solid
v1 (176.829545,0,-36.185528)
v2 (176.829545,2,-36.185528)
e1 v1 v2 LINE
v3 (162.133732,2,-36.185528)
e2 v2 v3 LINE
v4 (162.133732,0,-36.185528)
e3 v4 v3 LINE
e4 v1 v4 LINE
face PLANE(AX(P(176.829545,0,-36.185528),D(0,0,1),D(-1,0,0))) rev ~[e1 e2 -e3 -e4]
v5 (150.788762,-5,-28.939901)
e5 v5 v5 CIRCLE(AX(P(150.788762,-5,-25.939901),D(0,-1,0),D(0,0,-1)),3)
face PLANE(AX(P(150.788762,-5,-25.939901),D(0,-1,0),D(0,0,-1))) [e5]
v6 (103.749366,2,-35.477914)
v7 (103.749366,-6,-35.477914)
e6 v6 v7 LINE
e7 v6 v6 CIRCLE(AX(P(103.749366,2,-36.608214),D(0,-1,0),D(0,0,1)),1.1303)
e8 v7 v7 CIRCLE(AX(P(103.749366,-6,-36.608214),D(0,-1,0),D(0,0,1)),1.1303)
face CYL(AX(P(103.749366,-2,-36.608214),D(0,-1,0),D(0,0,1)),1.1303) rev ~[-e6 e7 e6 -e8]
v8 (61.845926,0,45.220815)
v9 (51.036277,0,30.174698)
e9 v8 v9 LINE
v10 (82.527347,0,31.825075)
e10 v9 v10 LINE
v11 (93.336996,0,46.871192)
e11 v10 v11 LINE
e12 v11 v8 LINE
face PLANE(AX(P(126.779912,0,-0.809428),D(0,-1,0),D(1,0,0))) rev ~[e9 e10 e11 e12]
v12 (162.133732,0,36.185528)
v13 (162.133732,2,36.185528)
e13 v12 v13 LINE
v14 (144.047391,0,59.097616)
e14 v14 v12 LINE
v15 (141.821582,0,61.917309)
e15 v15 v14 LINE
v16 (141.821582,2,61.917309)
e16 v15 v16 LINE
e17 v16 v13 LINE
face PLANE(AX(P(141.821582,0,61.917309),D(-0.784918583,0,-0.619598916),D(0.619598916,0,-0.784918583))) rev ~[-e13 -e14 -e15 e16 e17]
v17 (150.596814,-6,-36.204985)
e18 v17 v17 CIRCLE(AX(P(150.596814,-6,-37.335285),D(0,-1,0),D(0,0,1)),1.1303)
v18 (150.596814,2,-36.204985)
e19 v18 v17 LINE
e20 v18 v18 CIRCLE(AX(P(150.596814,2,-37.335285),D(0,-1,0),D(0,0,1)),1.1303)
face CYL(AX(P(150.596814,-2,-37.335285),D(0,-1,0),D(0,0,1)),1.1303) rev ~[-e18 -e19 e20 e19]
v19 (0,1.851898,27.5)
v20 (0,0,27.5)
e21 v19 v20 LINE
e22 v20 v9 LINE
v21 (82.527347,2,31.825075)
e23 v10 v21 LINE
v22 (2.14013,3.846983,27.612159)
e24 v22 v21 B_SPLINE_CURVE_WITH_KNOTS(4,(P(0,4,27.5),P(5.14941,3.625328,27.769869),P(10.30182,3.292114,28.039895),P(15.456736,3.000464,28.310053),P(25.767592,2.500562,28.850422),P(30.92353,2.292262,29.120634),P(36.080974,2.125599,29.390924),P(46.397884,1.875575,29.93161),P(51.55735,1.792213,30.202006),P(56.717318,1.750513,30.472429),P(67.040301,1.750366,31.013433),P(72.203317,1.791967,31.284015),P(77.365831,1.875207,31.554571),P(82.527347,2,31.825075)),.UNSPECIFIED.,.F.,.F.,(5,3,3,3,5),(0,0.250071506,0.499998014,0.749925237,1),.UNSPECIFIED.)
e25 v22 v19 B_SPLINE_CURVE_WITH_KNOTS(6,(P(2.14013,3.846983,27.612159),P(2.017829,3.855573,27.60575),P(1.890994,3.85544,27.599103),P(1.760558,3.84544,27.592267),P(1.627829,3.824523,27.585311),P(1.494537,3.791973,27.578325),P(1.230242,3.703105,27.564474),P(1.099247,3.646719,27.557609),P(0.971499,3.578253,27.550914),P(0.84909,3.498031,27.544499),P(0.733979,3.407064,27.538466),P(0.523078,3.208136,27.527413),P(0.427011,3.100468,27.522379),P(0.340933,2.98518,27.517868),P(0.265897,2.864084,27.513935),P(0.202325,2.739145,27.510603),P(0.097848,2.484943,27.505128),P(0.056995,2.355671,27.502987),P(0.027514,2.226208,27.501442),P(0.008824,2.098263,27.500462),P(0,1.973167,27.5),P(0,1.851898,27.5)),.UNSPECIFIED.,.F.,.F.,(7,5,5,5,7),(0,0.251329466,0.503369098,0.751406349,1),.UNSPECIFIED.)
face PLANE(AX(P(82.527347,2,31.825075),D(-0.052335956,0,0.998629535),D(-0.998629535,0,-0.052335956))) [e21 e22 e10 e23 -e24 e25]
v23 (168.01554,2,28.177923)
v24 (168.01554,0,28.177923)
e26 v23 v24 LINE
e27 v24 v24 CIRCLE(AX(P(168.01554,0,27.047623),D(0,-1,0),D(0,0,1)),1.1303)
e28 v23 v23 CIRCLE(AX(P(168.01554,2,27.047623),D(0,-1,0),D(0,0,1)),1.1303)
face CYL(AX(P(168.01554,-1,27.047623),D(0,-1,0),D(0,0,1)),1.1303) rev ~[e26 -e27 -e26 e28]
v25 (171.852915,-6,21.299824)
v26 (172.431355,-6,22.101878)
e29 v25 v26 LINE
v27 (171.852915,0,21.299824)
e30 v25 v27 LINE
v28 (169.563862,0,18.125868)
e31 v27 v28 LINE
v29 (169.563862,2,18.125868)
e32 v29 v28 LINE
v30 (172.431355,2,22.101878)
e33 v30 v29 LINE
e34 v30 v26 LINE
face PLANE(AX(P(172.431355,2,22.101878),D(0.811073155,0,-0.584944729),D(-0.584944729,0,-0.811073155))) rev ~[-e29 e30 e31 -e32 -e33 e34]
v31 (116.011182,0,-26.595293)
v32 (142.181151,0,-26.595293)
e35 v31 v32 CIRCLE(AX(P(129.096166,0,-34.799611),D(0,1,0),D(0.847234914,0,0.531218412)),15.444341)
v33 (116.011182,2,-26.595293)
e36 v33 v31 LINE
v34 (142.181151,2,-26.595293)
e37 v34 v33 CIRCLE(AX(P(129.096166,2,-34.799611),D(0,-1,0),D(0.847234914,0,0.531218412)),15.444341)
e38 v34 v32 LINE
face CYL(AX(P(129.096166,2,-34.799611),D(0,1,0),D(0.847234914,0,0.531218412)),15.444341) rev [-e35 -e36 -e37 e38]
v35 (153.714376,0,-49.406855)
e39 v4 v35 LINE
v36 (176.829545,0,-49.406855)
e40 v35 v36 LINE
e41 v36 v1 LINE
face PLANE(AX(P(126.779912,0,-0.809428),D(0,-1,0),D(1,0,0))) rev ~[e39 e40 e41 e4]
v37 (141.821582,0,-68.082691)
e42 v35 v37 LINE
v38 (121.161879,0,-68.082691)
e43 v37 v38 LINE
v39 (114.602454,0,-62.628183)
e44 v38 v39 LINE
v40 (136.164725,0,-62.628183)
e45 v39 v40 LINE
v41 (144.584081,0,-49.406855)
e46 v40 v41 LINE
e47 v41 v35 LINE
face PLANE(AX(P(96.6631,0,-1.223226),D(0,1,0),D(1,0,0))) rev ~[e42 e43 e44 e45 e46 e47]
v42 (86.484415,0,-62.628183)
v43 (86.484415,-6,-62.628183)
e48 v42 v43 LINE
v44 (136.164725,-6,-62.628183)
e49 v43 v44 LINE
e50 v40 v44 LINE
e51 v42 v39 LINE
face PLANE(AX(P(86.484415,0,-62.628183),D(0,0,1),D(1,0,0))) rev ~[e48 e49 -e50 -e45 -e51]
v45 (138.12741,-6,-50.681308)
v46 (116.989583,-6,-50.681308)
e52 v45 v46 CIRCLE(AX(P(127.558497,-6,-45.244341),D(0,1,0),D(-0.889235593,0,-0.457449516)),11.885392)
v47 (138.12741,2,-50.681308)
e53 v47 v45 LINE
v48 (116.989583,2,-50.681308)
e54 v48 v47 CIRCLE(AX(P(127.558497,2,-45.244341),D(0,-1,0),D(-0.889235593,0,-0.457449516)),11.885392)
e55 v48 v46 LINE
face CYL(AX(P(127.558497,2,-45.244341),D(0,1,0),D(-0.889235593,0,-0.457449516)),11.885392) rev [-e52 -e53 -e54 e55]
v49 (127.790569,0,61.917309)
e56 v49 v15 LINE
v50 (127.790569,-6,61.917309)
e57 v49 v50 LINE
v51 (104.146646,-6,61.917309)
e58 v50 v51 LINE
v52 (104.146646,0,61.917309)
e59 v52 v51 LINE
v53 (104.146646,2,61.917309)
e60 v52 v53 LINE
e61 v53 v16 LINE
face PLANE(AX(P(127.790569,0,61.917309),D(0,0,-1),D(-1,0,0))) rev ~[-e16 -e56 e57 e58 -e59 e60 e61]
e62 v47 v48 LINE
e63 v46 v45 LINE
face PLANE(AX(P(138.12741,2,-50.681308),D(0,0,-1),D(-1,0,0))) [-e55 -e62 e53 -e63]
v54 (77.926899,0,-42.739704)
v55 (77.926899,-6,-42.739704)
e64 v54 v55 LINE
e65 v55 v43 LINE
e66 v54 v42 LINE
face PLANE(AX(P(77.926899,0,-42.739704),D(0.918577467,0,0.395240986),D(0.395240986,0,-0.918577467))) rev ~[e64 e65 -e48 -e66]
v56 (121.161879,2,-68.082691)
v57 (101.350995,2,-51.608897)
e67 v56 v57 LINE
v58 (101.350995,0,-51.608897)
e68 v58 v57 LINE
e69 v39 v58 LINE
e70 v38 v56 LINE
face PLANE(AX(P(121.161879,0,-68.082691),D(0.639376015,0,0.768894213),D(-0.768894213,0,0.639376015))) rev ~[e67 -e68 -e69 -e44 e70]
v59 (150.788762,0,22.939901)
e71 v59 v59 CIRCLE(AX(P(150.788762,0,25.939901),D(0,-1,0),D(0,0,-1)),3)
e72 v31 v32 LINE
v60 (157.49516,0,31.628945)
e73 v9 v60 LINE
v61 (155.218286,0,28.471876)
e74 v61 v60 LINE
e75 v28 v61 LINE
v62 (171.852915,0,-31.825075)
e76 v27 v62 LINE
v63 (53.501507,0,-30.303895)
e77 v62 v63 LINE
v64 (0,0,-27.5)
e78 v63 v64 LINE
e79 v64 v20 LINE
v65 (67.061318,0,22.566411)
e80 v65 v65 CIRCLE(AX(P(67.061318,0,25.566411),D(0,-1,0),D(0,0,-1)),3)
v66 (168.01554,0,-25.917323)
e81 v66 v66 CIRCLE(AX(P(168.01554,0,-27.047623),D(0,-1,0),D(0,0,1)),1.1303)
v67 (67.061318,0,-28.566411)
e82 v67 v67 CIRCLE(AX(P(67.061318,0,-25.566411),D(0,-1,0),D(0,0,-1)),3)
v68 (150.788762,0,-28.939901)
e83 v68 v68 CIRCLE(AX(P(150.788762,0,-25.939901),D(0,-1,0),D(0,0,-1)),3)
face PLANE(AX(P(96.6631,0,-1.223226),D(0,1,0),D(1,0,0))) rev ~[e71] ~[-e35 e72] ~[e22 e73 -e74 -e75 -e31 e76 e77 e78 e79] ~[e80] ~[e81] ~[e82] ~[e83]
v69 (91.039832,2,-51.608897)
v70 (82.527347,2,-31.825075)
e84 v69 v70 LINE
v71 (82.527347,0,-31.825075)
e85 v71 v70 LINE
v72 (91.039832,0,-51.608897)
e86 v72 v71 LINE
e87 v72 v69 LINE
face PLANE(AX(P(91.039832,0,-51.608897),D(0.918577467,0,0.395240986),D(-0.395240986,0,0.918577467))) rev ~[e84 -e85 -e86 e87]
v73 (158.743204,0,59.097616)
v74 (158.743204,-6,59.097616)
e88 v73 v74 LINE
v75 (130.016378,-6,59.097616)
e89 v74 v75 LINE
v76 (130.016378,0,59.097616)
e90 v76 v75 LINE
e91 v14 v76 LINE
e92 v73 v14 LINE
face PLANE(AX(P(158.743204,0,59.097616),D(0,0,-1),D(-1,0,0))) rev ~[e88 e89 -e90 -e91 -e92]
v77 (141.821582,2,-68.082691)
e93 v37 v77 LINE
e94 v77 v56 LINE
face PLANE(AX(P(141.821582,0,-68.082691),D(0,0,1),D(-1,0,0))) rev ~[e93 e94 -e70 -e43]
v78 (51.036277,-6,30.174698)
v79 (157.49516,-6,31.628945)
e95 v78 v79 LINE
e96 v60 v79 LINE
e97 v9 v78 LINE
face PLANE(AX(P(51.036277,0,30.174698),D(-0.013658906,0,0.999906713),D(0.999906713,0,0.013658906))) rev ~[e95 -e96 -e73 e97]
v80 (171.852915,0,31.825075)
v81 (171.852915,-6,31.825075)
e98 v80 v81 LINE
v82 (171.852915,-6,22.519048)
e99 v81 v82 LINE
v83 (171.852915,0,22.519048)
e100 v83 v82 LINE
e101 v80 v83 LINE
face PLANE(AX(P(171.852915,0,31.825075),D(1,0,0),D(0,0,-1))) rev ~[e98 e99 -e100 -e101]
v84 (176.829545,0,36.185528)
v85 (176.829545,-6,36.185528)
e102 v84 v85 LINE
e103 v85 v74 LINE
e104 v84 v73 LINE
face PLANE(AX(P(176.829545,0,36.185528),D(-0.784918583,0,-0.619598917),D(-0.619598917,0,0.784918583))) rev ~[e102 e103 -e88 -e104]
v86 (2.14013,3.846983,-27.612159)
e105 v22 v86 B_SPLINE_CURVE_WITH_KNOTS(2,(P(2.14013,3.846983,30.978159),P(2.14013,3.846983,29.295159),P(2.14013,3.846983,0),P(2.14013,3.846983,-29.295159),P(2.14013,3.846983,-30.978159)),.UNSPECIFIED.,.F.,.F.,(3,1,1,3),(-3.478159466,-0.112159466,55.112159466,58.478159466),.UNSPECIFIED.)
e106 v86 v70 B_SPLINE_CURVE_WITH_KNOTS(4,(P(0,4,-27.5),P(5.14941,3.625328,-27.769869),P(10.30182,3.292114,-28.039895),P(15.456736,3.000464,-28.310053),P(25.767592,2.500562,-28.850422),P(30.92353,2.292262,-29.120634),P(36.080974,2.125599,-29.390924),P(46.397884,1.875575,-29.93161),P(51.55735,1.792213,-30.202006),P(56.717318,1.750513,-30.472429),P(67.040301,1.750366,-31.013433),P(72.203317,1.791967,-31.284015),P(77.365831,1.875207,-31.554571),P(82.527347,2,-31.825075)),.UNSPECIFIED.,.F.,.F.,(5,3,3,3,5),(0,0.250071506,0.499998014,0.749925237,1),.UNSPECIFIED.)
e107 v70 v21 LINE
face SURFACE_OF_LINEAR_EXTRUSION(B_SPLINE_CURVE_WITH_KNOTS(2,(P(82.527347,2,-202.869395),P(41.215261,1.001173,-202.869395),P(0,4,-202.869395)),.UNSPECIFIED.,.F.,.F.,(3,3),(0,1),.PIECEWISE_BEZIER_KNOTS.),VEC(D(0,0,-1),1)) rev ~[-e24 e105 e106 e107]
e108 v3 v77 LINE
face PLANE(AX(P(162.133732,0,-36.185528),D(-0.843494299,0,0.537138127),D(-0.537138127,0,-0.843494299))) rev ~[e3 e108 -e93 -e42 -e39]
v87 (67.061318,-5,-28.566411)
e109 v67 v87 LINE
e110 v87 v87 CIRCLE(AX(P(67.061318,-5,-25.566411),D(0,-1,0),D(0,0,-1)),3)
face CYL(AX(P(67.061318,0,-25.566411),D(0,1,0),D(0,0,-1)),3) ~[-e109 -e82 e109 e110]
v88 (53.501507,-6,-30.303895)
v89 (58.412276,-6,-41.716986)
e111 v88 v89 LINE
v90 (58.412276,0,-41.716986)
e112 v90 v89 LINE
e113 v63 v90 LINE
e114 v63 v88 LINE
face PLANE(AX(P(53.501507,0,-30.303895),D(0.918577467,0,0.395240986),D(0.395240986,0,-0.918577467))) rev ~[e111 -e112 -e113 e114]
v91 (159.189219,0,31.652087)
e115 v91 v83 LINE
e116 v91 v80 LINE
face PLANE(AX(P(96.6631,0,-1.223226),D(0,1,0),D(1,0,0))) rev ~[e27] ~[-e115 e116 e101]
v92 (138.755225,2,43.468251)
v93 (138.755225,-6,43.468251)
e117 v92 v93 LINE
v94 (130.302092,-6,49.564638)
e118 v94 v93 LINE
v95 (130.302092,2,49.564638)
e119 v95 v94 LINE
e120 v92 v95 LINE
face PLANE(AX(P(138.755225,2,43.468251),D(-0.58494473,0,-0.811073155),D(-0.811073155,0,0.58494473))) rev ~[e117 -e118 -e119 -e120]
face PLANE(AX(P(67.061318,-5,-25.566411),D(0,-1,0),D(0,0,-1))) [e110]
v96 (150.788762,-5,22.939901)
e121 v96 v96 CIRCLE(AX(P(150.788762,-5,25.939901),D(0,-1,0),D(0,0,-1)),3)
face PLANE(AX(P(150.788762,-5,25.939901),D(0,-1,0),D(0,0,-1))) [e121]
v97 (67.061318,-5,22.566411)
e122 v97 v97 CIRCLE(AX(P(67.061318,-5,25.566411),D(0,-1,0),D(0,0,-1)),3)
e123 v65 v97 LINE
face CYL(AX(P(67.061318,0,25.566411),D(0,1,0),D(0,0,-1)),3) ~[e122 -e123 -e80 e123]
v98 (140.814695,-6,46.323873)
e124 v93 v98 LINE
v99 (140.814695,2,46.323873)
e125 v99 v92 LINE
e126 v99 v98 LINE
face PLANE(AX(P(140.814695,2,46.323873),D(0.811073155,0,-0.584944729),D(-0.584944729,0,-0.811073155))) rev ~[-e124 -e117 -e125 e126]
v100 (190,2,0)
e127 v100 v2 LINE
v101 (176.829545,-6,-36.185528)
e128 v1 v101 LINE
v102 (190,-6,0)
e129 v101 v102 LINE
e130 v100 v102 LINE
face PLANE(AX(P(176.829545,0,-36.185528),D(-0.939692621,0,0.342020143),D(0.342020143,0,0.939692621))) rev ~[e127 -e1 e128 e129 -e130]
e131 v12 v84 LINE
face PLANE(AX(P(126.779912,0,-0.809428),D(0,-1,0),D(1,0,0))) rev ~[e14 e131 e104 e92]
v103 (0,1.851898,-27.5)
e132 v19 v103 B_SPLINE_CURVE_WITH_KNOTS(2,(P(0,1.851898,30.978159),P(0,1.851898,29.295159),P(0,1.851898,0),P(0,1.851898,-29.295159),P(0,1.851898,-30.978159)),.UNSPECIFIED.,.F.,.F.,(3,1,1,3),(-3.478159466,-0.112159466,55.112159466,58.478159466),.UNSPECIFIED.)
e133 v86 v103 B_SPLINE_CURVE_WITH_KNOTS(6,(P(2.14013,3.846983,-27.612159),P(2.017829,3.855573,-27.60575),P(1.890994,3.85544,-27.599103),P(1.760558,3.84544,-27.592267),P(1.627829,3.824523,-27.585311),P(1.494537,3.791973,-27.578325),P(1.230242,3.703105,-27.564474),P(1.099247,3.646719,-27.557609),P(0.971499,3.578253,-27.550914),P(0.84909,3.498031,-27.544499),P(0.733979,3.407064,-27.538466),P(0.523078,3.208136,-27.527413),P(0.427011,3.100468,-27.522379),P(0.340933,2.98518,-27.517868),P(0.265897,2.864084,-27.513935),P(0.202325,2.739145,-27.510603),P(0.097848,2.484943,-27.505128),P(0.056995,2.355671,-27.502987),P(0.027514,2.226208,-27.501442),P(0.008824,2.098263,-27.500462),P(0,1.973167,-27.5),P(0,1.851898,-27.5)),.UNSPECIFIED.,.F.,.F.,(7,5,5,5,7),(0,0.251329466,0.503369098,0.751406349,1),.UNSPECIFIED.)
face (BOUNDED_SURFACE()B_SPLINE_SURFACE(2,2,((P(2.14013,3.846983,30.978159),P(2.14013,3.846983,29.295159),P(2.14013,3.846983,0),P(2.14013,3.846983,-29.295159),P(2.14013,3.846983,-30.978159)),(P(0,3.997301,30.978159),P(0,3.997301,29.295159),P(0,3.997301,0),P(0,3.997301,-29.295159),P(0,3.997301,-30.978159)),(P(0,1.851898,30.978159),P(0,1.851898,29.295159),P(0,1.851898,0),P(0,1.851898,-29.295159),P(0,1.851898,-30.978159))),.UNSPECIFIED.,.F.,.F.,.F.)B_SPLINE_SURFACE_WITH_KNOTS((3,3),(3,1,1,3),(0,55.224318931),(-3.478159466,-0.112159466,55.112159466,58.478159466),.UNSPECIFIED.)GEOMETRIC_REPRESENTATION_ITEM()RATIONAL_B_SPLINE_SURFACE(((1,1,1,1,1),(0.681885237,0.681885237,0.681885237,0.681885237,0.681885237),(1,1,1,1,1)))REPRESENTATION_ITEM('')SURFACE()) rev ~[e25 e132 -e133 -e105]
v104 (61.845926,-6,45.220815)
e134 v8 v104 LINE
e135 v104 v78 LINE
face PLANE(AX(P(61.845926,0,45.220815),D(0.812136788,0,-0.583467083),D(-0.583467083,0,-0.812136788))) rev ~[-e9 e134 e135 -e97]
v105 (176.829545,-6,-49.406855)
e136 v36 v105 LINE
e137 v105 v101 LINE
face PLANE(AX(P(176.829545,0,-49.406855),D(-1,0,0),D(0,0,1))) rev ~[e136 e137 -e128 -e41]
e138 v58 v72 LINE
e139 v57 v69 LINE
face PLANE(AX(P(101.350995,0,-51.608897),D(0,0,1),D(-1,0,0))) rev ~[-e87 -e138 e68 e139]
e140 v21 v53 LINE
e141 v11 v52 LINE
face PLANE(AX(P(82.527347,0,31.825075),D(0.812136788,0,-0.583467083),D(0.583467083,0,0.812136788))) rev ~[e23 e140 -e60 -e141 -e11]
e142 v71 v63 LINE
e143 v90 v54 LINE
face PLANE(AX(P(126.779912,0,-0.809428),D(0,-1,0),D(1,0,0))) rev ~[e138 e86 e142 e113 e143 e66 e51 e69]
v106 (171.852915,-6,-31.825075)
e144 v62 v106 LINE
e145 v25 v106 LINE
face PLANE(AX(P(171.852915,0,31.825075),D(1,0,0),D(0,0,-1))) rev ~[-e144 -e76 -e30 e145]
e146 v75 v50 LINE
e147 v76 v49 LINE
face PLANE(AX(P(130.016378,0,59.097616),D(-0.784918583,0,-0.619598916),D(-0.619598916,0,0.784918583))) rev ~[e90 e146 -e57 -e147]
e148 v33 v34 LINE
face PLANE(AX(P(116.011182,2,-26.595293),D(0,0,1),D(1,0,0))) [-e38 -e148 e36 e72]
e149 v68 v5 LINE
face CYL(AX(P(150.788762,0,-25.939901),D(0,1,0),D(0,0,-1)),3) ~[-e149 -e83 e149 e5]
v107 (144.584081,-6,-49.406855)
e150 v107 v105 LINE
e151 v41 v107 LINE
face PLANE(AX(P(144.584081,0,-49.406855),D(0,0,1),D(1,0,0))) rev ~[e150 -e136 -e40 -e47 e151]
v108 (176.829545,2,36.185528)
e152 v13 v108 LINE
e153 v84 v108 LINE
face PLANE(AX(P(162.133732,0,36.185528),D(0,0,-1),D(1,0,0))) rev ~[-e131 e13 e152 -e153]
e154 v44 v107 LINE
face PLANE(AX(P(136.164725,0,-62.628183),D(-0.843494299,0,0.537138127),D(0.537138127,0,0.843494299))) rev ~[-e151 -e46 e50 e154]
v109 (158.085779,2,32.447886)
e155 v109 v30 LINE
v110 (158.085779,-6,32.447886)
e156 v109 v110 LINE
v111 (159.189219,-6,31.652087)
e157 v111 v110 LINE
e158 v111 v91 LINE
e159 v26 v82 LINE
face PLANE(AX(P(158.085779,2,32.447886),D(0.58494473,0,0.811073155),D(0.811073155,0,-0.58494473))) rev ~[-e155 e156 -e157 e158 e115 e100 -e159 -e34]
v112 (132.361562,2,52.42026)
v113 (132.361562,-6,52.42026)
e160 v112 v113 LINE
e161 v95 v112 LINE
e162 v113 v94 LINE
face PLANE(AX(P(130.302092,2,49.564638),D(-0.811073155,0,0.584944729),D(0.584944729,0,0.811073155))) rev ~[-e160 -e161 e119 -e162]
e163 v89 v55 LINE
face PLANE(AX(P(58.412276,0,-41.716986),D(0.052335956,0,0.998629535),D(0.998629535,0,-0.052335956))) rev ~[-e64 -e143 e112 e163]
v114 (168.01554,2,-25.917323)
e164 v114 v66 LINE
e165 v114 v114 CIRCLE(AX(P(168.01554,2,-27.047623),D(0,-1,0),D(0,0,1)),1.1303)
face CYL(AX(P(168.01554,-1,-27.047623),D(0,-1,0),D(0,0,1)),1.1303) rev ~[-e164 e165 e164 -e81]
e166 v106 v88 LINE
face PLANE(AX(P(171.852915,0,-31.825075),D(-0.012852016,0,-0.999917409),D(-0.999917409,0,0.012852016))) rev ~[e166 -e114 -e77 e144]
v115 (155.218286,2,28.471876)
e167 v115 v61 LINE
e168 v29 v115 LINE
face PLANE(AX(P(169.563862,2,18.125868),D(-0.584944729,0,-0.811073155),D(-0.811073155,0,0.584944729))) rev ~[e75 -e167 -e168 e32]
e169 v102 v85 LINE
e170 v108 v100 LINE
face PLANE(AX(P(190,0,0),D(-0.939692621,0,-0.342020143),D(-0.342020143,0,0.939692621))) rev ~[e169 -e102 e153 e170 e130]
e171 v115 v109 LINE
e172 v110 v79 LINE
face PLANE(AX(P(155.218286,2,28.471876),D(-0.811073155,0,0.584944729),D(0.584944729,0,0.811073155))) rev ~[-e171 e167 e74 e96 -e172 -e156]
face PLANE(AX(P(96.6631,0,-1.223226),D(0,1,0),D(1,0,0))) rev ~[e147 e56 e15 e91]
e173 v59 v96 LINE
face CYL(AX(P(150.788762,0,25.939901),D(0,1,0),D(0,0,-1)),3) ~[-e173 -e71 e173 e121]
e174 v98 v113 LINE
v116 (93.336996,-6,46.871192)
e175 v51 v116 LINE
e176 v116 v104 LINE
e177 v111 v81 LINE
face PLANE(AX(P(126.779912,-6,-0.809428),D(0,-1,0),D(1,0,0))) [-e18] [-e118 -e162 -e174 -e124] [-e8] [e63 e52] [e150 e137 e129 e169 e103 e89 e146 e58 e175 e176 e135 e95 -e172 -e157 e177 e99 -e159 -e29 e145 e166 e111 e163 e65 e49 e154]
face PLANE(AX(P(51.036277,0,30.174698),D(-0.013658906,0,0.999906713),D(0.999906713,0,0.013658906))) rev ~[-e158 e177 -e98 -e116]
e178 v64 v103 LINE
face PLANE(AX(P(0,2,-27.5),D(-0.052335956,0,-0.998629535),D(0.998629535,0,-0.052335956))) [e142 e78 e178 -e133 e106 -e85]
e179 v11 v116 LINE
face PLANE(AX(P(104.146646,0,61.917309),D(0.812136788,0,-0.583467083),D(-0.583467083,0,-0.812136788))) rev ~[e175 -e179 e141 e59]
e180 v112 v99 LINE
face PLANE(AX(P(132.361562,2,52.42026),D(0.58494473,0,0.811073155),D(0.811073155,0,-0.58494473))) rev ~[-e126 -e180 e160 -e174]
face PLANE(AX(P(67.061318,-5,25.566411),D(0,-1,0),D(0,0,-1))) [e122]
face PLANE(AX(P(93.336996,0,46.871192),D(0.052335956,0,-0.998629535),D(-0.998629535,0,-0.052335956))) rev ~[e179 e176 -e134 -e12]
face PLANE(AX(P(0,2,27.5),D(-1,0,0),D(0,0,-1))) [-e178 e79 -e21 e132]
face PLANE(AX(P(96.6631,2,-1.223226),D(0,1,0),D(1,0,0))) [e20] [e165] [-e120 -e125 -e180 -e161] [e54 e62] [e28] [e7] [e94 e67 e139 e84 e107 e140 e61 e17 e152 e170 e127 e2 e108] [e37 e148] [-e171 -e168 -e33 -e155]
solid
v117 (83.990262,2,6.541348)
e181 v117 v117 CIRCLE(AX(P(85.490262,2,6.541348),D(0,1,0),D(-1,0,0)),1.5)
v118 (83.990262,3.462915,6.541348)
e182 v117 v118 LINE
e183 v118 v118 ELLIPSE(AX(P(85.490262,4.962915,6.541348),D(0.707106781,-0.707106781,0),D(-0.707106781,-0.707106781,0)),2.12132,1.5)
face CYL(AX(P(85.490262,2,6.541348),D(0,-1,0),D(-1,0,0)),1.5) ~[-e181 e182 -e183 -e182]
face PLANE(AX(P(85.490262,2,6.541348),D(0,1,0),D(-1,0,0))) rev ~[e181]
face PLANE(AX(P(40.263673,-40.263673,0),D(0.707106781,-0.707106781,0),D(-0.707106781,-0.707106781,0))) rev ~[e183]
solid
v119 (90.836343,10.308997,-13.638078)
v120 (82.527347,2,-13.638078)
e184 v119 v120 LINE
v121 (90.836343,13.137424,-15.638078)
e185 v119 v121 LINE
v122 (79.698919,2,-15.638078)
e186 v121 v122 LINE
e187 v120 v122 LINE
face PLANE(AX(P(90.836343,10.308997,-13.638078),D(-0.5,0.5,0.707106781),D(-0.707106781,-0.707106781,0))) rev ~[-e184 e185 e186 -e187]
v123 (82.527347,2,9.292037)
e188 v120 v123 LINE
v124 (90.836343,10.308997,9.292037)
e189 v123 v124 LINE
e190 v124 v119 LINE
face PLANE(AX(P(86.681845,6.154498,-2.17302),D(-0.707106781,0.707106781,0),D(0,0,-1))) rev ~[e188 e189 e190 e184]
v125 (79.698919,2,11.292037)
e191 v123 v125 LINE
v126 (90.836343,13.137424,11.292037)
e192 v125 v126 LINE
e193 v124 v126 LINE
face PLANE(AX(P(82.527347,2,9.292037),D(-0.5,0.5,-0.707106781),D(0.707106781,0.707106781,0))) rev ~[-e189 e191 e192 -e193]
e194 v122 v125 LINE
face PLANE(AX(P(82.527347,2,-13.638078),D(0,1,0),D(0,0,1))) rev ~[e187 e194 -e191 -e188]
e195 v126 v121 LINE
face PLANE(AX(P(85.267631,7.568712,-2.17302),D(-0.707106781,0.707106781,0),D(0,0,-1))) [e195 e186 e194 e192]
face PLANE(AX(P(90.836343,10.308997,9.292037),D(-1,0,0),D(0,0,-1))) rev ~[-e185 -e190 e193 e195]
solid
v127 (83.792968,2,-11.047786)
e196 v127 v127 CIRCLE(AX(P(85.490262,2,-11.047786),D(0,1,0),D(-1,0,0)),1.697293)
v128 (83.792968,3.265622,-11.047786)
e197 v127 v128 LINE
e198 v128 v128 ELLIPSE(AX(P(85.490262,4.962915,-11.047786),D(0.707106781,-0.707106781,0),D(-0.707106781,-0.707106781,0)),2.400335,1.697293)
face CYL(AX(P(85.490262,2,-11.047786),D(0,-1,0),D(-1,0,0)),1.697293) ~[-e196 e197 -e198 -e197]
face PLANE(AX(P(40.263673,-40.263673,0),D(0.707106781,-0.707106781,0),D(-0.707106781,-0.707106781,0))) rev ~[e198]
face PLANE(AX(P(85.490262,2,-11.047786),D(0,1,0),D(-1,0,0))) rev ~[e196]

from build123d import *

# Parameters (mm, degrees)
EXTRUDE_1_DEPTH               = 2
EXTRUDE_2_DEPTH               = 2
CUT_EXTRUDE_3_DEPTH           = 202.869395429
CUT_EXTRUDE_3_DEPTH_BACK      = 202.869395429
FILLET_1_R                    = 2
EXTRUDE_4_DEPTH               = 6
CUT_EXTRUDE_7_DEPTH           = 202.98824919
EXTRUDE_5_DEPTH               = 2
EXTRUDE_5_DRAFT               = -45
EXTRUDE_11_REACH              = 204.137
SKETCH_24_R                   = 1.697293379
SKETCH_24_R_2                 = 1.5
CUT_EXTRUDE_8_DEPTH           = 203.13682253
SKETCH_26_W                   = 1.1303
SKETCH_26_H                   = 10
HOLE_WIZARD_4_40_3_AT_2_COUNT = 2
HOLE_WIZARD_4_40_3_AT_2_PITCH = 54.095245987
SKETCH_29_R                   = 3
EXTRUDE_14_DEPTH              = 5
SKETCH_32_W                   = 1.1303
SKETCH_32_H                   = 8
HOLE_WIZARD_4_40_4_AT_2_COUNT = 2
HOLE_WIZARD_4_40_4_AT_2_PITCH = 46.853089657


with BuildPart() as part:
    # 草图2 → 凸台-拉伸1 (new body)
    with BuildSketch(Plane(origin=(0, 0, 0), x_dir=(1, 0, 0), z_dir=(0, 1, 0))):
        Polygon((141.821582241, 68.082690978), (121.161879345, 68.082690978), (101.35099463, 51.608897425), (91.039832206, 51.608897425), (82.527346571, 31.825074964), (0, 27.5), (0, -27.5), (82.527346571, -31.825074964), (104.14664553, -61.917309022), (141.821582241, -61.917309022), (162.133732132, -36.18552755), (176.829545061, -36.18552755), (190, 0), (176.829545061, 36.18552755), (162.133732132, 36.18552755), align=None)
    extrude(amount=EXTRUDE_1_DEPTH)

    # 草图6 → 凸台-拉伸2 (add)
    with BuildSketch(Plane(origin=(0, 2, 0), x_dir=(1, 0, 0), z_dir=(0, 1, 0))):
        Polygon((82.527346571, 31.825074964), (82.527346571, -31.825074964), (0, -27.5), (0, 27.5), align=None)
    extrude(amount=EXTRUDE_2_DEPTH)

    # 草图7 → 切除-拉伸3 (cut, two sides: drawn at the far end of the back side and taken through both)
    with BuildSketch(Plane.XY.offset(-CUT_EXTRUDE_3_DEPTH_BACK)):
        with BuildLine():
            Line((82.527346571, 2), (82.527346571, 30.740821148))
            Line((82.527346571, 30.740821148), (0, 4))
            add(Edge.make_bspline(
                [(82.527346571, 2), (41.215261335, 1.001172546), (0, 4)],
                knots=[0, 0, 0, 1, 1, 1], degree=2))
        make_face()
    extrude(amount=CUT_EXTRUDE_3_DEPTH + CUT_EXTRUDE_3_DEPTH_BACK, mode=Mode.SUBTRACT)

    # 圆角1
    fillet_1_edges = [part.edges().sort_by_distance(p)[0] for p in [
        (0, 4, 13.75),
    ]]
    fillet(fillet_1_edges, radius=FILLET_1_R)

    # 草图13 → 凸台-拉伸4 (add)
    with BuildSketch(Plane.XZ):
        Polygon((53.501507434, -30.303895193), (58.412275987, -41.716986195), (77.926898746, -42.739704237), (86.484415452, -62.62818317), (136.164724768, -62.62818317), (144.584081331, -49.40685536), (176.829545061, -49.40685536), (176.829545061, -36.18552755), (190, 0), (176.829545061, 36.18552755), (158.743204348, 59.097615602), (130.016377906, 59.097615602), (127.790568727, 61.917309022), (104.14664553, 61.917309022), (93.336996051, 46.871191993), (61.845926158, 45.220814953), (51.036276678, 30.174697924), (171.852914921, 31.825074964), (171.852914921, -31.825074964), align=None)
    extrude(amount=EXTRUDE_4_DEPTH)

    # 草图18 → 切除-拉伸7 (cut, through all)
    with BuildSketch(Plane(origin=(0, 2, 0), x_dir=(1, 0, 0), z_dir=(0, 1, 0))):
        Polygon((169.563862496, -18.125868021), (155.218286362, -28.471875769), (158.085778721, -32.447885738), (172.431354854, -22.101877989), align=None)
        Polygon((130.302091903, -49.564637909), (132.361562224, -52.420260001), (140.814695434, -46.323873151), (138.755225113, -43.468251059), align=None)
    extrude(amount=-CUT_EXTRUDE_7_DEPTH, mode=Mode.SUBTRACT)

    # 草图17 → 切除-拉伸8 (cut, through all)
    with BuildSketch(Plane(origin=(0, 2, 0), x_dir=(1, 0, 0), z_dir=(0, 1, 0))):
        with BuildLine():
            Line((116.011181983, 26.59529287), (142.181150975, 26.59529287))
            ThreePointArc((142.181150975, 26.59529287), (129.096166479, 19.355270398), (116.011181983, 26.59529287))
        make_face()
        with BuildLine():
            Line((138.127410429, 50.681307574), (116.98958299, 50.681307574))
            ThreePointArc((116.98958299, 50.681307574), (127.55849671, 57.129732827), (138.127410429, 50.681307574))
        make_face()
    extrude(amount=-CUT_EXTRUDE_8_DEPTH, mode=Mode.SUBTRACT)

    # 草图26 → #4-40 螺纹孔3 (revolve, cut)
    with BuildSketch(Plane(origin=(168.015540482, 4, 27.047622993), x_dir=(0, 0, 1), z_dir=(1, 0, 0))):
        with Locations((0.56515, 5)):
            Rectangle(SKETCH_26_W, SKETCH_26_H)
    hole_wizard_4_40_3 = revolve(axis=Axis((168.015540482, 10.35, 27.047622993), (0, -1, 0)), mode=Mode.SUBTRACT)

    # #4-40 螺纹孔3 at 2: #4-40 螺纹孔3 ×2
    with Locations(*[(0, 0, -i * HOLE_WIZARD_4_40_3_AT_2_PITCH) for i in range(1, HOLE_WIZARD_4_40_3_AT_2_COUNT)]):
        add(hole_wizard_4_40_3, mode=Mode.SUBTRACT)

    # 草图29 → 凸台-拉伸14 (add)
    with BuildSketch(Plane.XZ):
        with Locations(Location((67.061317629, 25.566411224, 0), (0, 0, 270))):
            Circle(SKETCH_29_R)
        with Locations(Location((67.061317629, -25.566411224, 0), (0, 0, 270))):
            Circle(SKETCH_29_R)
        with Locations(Location((150.788762168, 25.939901438, 0), (0, 0, 270))):
            Circle(SKETCH_29_R)
        with Locations(Location((150.788762168, -25.939901438, 0), (0, 0, 270))):
            Circle(SKETCH_29_R)
    extrude(amount=EXTRUDE_14_DEPTH)

    # 草图32 → #4-40 螺纹孔4 (revolve, cut)
    with BuildSketch(Plane(origin=(150.596814185, 2, -37.335284881), x_dir=(0, 0, 1), z_dir=(1, 0, 0))):
        with Locations((0.56515, 4)):
            Rectangle(SKETCH_32_W, SKETCH_32_H)
    hole_wizard_4_40_4 = revolve(axis=Axis((150.596814185, 8.35, -37.335284881), (0, -1, 0)), mode=Mode.SUBTRACT)

    # #4-40 螺纹孔4 at 2: #4-40 螺纹孔4 ×2
    with Locations(*[Vector(-0.9998795871522861, 0, 0.015518092543031247) * (i * HOLE_WIZARD_4_40_4_AT_2_PITCH) for i in range(1, HOLE_WIZARD_4_40_4_AT_2_COUNT)]):
        add(hole_wizard_4_40_4, mode=Mode.SUBTRACT)


with BuildPart() as body_2:
    # 草图23 → 凸台-拉伸5 (with draft: the straight prism first)
    with BuildSketch(Plane(origin=(40.263673286, -40.263673286, 0), x_dir=(0, 0, -1), z_dir=(-0.7071067811865488, 0.7071067811865464, 0))):
        Polygon((-9.292036768, -59.769859956), (-9.292036768, -60.809778756), (-9.292036768, -71.520555916), (13.638077716, -71.520555916), (13.638077716, -59.769859956), align=None)
    extrude(amount=EXTRUDE_5_DEPTH)
    # 凸台-拉伸5: the draft: its side faces are tilted about the plane it starts from
    extrude_5_sides = [body_2.faces().sort_by_distance(p)[0] for p in [
        (85.974738189, 6.86160518, 9.292036768),
        (85.974738189, 6.86160518, -13.638077716),
        (90.129236587, 11.016103578, -2.173020474),
        (81.82023979, 2.707106781, -2.173020474),
    ]]
    draft(extrude_5_sides, Plane(origin=(40.263673286, -40.263673286, 0), x_dir=(0, 0, -1), z_dir=(-0.7071067811865488, 0.7071067811865464, 0)), EXTRUDE_5_DRAFT)


with BuildPart() as body_3:
    # 凸台-拉伸11: up to this plane
    extrude_11_end = Plane(origin=(40.263673286, -40.263673286, 0), z_dir=(0.7071067811865476, -0.7071067811865476, 0))
    # 草图24 → 凸台-拉伸11 (new, up to the surface)
    with BuildSketch(Plane(origin=(0, 2, 0), x_dir=(1, 0, 0), z_dir=(0, 1, 0)), mode=Mode.PRIVATE) as extrude_11_sk1:
        with Locations(Location((85.490261725, 11.047785882, 0), (0, 0, 180))):
            Circle(SKETCH_24_R)
    extrude_11_tool1 = split(extrude(extrude_11_sk1.sketch, amount=EXTRUDE_11_REACH, mode=Mode.PRIVATE), bisect_by=extrude_11_end, keep=Keep.BOTH, mode=Mode.PRIVATE)
    add(extrude_11_tool1.solids().sort_by_distance((85.490262, 2, -11.047786))[0])
    # 草图24 → 凸台-拉伸11 (new, up to the surface)
    with BuildSketch(Plane(origin=(0, 2, 0), x_dir=(1, 0, 0), z_dir=(0, 1, 0)), mode=Mode.PRIVATE) as extrude_11_sk2:
        with Locations(Location((85.490261725, -6.54134788, 0), (0, 0, 180))):
            Circle(SKETCH_24_R_2)
    extrude_11_tool2 = split(extrude(extrude_11_sk2.sketch, amount=EXTRUDE_11_REACH, mode=Mode.PRIVATE), bisect_by=extrude_11_end, keep=Keep.BOTH, mode=Mode.PRIVATE)
    add(extrude_11_tool2.solids().sort_by_distance((85.490262, 2, 6.541348))[0])


solid = Compound([part.part, body_2.part, body_3.part])
